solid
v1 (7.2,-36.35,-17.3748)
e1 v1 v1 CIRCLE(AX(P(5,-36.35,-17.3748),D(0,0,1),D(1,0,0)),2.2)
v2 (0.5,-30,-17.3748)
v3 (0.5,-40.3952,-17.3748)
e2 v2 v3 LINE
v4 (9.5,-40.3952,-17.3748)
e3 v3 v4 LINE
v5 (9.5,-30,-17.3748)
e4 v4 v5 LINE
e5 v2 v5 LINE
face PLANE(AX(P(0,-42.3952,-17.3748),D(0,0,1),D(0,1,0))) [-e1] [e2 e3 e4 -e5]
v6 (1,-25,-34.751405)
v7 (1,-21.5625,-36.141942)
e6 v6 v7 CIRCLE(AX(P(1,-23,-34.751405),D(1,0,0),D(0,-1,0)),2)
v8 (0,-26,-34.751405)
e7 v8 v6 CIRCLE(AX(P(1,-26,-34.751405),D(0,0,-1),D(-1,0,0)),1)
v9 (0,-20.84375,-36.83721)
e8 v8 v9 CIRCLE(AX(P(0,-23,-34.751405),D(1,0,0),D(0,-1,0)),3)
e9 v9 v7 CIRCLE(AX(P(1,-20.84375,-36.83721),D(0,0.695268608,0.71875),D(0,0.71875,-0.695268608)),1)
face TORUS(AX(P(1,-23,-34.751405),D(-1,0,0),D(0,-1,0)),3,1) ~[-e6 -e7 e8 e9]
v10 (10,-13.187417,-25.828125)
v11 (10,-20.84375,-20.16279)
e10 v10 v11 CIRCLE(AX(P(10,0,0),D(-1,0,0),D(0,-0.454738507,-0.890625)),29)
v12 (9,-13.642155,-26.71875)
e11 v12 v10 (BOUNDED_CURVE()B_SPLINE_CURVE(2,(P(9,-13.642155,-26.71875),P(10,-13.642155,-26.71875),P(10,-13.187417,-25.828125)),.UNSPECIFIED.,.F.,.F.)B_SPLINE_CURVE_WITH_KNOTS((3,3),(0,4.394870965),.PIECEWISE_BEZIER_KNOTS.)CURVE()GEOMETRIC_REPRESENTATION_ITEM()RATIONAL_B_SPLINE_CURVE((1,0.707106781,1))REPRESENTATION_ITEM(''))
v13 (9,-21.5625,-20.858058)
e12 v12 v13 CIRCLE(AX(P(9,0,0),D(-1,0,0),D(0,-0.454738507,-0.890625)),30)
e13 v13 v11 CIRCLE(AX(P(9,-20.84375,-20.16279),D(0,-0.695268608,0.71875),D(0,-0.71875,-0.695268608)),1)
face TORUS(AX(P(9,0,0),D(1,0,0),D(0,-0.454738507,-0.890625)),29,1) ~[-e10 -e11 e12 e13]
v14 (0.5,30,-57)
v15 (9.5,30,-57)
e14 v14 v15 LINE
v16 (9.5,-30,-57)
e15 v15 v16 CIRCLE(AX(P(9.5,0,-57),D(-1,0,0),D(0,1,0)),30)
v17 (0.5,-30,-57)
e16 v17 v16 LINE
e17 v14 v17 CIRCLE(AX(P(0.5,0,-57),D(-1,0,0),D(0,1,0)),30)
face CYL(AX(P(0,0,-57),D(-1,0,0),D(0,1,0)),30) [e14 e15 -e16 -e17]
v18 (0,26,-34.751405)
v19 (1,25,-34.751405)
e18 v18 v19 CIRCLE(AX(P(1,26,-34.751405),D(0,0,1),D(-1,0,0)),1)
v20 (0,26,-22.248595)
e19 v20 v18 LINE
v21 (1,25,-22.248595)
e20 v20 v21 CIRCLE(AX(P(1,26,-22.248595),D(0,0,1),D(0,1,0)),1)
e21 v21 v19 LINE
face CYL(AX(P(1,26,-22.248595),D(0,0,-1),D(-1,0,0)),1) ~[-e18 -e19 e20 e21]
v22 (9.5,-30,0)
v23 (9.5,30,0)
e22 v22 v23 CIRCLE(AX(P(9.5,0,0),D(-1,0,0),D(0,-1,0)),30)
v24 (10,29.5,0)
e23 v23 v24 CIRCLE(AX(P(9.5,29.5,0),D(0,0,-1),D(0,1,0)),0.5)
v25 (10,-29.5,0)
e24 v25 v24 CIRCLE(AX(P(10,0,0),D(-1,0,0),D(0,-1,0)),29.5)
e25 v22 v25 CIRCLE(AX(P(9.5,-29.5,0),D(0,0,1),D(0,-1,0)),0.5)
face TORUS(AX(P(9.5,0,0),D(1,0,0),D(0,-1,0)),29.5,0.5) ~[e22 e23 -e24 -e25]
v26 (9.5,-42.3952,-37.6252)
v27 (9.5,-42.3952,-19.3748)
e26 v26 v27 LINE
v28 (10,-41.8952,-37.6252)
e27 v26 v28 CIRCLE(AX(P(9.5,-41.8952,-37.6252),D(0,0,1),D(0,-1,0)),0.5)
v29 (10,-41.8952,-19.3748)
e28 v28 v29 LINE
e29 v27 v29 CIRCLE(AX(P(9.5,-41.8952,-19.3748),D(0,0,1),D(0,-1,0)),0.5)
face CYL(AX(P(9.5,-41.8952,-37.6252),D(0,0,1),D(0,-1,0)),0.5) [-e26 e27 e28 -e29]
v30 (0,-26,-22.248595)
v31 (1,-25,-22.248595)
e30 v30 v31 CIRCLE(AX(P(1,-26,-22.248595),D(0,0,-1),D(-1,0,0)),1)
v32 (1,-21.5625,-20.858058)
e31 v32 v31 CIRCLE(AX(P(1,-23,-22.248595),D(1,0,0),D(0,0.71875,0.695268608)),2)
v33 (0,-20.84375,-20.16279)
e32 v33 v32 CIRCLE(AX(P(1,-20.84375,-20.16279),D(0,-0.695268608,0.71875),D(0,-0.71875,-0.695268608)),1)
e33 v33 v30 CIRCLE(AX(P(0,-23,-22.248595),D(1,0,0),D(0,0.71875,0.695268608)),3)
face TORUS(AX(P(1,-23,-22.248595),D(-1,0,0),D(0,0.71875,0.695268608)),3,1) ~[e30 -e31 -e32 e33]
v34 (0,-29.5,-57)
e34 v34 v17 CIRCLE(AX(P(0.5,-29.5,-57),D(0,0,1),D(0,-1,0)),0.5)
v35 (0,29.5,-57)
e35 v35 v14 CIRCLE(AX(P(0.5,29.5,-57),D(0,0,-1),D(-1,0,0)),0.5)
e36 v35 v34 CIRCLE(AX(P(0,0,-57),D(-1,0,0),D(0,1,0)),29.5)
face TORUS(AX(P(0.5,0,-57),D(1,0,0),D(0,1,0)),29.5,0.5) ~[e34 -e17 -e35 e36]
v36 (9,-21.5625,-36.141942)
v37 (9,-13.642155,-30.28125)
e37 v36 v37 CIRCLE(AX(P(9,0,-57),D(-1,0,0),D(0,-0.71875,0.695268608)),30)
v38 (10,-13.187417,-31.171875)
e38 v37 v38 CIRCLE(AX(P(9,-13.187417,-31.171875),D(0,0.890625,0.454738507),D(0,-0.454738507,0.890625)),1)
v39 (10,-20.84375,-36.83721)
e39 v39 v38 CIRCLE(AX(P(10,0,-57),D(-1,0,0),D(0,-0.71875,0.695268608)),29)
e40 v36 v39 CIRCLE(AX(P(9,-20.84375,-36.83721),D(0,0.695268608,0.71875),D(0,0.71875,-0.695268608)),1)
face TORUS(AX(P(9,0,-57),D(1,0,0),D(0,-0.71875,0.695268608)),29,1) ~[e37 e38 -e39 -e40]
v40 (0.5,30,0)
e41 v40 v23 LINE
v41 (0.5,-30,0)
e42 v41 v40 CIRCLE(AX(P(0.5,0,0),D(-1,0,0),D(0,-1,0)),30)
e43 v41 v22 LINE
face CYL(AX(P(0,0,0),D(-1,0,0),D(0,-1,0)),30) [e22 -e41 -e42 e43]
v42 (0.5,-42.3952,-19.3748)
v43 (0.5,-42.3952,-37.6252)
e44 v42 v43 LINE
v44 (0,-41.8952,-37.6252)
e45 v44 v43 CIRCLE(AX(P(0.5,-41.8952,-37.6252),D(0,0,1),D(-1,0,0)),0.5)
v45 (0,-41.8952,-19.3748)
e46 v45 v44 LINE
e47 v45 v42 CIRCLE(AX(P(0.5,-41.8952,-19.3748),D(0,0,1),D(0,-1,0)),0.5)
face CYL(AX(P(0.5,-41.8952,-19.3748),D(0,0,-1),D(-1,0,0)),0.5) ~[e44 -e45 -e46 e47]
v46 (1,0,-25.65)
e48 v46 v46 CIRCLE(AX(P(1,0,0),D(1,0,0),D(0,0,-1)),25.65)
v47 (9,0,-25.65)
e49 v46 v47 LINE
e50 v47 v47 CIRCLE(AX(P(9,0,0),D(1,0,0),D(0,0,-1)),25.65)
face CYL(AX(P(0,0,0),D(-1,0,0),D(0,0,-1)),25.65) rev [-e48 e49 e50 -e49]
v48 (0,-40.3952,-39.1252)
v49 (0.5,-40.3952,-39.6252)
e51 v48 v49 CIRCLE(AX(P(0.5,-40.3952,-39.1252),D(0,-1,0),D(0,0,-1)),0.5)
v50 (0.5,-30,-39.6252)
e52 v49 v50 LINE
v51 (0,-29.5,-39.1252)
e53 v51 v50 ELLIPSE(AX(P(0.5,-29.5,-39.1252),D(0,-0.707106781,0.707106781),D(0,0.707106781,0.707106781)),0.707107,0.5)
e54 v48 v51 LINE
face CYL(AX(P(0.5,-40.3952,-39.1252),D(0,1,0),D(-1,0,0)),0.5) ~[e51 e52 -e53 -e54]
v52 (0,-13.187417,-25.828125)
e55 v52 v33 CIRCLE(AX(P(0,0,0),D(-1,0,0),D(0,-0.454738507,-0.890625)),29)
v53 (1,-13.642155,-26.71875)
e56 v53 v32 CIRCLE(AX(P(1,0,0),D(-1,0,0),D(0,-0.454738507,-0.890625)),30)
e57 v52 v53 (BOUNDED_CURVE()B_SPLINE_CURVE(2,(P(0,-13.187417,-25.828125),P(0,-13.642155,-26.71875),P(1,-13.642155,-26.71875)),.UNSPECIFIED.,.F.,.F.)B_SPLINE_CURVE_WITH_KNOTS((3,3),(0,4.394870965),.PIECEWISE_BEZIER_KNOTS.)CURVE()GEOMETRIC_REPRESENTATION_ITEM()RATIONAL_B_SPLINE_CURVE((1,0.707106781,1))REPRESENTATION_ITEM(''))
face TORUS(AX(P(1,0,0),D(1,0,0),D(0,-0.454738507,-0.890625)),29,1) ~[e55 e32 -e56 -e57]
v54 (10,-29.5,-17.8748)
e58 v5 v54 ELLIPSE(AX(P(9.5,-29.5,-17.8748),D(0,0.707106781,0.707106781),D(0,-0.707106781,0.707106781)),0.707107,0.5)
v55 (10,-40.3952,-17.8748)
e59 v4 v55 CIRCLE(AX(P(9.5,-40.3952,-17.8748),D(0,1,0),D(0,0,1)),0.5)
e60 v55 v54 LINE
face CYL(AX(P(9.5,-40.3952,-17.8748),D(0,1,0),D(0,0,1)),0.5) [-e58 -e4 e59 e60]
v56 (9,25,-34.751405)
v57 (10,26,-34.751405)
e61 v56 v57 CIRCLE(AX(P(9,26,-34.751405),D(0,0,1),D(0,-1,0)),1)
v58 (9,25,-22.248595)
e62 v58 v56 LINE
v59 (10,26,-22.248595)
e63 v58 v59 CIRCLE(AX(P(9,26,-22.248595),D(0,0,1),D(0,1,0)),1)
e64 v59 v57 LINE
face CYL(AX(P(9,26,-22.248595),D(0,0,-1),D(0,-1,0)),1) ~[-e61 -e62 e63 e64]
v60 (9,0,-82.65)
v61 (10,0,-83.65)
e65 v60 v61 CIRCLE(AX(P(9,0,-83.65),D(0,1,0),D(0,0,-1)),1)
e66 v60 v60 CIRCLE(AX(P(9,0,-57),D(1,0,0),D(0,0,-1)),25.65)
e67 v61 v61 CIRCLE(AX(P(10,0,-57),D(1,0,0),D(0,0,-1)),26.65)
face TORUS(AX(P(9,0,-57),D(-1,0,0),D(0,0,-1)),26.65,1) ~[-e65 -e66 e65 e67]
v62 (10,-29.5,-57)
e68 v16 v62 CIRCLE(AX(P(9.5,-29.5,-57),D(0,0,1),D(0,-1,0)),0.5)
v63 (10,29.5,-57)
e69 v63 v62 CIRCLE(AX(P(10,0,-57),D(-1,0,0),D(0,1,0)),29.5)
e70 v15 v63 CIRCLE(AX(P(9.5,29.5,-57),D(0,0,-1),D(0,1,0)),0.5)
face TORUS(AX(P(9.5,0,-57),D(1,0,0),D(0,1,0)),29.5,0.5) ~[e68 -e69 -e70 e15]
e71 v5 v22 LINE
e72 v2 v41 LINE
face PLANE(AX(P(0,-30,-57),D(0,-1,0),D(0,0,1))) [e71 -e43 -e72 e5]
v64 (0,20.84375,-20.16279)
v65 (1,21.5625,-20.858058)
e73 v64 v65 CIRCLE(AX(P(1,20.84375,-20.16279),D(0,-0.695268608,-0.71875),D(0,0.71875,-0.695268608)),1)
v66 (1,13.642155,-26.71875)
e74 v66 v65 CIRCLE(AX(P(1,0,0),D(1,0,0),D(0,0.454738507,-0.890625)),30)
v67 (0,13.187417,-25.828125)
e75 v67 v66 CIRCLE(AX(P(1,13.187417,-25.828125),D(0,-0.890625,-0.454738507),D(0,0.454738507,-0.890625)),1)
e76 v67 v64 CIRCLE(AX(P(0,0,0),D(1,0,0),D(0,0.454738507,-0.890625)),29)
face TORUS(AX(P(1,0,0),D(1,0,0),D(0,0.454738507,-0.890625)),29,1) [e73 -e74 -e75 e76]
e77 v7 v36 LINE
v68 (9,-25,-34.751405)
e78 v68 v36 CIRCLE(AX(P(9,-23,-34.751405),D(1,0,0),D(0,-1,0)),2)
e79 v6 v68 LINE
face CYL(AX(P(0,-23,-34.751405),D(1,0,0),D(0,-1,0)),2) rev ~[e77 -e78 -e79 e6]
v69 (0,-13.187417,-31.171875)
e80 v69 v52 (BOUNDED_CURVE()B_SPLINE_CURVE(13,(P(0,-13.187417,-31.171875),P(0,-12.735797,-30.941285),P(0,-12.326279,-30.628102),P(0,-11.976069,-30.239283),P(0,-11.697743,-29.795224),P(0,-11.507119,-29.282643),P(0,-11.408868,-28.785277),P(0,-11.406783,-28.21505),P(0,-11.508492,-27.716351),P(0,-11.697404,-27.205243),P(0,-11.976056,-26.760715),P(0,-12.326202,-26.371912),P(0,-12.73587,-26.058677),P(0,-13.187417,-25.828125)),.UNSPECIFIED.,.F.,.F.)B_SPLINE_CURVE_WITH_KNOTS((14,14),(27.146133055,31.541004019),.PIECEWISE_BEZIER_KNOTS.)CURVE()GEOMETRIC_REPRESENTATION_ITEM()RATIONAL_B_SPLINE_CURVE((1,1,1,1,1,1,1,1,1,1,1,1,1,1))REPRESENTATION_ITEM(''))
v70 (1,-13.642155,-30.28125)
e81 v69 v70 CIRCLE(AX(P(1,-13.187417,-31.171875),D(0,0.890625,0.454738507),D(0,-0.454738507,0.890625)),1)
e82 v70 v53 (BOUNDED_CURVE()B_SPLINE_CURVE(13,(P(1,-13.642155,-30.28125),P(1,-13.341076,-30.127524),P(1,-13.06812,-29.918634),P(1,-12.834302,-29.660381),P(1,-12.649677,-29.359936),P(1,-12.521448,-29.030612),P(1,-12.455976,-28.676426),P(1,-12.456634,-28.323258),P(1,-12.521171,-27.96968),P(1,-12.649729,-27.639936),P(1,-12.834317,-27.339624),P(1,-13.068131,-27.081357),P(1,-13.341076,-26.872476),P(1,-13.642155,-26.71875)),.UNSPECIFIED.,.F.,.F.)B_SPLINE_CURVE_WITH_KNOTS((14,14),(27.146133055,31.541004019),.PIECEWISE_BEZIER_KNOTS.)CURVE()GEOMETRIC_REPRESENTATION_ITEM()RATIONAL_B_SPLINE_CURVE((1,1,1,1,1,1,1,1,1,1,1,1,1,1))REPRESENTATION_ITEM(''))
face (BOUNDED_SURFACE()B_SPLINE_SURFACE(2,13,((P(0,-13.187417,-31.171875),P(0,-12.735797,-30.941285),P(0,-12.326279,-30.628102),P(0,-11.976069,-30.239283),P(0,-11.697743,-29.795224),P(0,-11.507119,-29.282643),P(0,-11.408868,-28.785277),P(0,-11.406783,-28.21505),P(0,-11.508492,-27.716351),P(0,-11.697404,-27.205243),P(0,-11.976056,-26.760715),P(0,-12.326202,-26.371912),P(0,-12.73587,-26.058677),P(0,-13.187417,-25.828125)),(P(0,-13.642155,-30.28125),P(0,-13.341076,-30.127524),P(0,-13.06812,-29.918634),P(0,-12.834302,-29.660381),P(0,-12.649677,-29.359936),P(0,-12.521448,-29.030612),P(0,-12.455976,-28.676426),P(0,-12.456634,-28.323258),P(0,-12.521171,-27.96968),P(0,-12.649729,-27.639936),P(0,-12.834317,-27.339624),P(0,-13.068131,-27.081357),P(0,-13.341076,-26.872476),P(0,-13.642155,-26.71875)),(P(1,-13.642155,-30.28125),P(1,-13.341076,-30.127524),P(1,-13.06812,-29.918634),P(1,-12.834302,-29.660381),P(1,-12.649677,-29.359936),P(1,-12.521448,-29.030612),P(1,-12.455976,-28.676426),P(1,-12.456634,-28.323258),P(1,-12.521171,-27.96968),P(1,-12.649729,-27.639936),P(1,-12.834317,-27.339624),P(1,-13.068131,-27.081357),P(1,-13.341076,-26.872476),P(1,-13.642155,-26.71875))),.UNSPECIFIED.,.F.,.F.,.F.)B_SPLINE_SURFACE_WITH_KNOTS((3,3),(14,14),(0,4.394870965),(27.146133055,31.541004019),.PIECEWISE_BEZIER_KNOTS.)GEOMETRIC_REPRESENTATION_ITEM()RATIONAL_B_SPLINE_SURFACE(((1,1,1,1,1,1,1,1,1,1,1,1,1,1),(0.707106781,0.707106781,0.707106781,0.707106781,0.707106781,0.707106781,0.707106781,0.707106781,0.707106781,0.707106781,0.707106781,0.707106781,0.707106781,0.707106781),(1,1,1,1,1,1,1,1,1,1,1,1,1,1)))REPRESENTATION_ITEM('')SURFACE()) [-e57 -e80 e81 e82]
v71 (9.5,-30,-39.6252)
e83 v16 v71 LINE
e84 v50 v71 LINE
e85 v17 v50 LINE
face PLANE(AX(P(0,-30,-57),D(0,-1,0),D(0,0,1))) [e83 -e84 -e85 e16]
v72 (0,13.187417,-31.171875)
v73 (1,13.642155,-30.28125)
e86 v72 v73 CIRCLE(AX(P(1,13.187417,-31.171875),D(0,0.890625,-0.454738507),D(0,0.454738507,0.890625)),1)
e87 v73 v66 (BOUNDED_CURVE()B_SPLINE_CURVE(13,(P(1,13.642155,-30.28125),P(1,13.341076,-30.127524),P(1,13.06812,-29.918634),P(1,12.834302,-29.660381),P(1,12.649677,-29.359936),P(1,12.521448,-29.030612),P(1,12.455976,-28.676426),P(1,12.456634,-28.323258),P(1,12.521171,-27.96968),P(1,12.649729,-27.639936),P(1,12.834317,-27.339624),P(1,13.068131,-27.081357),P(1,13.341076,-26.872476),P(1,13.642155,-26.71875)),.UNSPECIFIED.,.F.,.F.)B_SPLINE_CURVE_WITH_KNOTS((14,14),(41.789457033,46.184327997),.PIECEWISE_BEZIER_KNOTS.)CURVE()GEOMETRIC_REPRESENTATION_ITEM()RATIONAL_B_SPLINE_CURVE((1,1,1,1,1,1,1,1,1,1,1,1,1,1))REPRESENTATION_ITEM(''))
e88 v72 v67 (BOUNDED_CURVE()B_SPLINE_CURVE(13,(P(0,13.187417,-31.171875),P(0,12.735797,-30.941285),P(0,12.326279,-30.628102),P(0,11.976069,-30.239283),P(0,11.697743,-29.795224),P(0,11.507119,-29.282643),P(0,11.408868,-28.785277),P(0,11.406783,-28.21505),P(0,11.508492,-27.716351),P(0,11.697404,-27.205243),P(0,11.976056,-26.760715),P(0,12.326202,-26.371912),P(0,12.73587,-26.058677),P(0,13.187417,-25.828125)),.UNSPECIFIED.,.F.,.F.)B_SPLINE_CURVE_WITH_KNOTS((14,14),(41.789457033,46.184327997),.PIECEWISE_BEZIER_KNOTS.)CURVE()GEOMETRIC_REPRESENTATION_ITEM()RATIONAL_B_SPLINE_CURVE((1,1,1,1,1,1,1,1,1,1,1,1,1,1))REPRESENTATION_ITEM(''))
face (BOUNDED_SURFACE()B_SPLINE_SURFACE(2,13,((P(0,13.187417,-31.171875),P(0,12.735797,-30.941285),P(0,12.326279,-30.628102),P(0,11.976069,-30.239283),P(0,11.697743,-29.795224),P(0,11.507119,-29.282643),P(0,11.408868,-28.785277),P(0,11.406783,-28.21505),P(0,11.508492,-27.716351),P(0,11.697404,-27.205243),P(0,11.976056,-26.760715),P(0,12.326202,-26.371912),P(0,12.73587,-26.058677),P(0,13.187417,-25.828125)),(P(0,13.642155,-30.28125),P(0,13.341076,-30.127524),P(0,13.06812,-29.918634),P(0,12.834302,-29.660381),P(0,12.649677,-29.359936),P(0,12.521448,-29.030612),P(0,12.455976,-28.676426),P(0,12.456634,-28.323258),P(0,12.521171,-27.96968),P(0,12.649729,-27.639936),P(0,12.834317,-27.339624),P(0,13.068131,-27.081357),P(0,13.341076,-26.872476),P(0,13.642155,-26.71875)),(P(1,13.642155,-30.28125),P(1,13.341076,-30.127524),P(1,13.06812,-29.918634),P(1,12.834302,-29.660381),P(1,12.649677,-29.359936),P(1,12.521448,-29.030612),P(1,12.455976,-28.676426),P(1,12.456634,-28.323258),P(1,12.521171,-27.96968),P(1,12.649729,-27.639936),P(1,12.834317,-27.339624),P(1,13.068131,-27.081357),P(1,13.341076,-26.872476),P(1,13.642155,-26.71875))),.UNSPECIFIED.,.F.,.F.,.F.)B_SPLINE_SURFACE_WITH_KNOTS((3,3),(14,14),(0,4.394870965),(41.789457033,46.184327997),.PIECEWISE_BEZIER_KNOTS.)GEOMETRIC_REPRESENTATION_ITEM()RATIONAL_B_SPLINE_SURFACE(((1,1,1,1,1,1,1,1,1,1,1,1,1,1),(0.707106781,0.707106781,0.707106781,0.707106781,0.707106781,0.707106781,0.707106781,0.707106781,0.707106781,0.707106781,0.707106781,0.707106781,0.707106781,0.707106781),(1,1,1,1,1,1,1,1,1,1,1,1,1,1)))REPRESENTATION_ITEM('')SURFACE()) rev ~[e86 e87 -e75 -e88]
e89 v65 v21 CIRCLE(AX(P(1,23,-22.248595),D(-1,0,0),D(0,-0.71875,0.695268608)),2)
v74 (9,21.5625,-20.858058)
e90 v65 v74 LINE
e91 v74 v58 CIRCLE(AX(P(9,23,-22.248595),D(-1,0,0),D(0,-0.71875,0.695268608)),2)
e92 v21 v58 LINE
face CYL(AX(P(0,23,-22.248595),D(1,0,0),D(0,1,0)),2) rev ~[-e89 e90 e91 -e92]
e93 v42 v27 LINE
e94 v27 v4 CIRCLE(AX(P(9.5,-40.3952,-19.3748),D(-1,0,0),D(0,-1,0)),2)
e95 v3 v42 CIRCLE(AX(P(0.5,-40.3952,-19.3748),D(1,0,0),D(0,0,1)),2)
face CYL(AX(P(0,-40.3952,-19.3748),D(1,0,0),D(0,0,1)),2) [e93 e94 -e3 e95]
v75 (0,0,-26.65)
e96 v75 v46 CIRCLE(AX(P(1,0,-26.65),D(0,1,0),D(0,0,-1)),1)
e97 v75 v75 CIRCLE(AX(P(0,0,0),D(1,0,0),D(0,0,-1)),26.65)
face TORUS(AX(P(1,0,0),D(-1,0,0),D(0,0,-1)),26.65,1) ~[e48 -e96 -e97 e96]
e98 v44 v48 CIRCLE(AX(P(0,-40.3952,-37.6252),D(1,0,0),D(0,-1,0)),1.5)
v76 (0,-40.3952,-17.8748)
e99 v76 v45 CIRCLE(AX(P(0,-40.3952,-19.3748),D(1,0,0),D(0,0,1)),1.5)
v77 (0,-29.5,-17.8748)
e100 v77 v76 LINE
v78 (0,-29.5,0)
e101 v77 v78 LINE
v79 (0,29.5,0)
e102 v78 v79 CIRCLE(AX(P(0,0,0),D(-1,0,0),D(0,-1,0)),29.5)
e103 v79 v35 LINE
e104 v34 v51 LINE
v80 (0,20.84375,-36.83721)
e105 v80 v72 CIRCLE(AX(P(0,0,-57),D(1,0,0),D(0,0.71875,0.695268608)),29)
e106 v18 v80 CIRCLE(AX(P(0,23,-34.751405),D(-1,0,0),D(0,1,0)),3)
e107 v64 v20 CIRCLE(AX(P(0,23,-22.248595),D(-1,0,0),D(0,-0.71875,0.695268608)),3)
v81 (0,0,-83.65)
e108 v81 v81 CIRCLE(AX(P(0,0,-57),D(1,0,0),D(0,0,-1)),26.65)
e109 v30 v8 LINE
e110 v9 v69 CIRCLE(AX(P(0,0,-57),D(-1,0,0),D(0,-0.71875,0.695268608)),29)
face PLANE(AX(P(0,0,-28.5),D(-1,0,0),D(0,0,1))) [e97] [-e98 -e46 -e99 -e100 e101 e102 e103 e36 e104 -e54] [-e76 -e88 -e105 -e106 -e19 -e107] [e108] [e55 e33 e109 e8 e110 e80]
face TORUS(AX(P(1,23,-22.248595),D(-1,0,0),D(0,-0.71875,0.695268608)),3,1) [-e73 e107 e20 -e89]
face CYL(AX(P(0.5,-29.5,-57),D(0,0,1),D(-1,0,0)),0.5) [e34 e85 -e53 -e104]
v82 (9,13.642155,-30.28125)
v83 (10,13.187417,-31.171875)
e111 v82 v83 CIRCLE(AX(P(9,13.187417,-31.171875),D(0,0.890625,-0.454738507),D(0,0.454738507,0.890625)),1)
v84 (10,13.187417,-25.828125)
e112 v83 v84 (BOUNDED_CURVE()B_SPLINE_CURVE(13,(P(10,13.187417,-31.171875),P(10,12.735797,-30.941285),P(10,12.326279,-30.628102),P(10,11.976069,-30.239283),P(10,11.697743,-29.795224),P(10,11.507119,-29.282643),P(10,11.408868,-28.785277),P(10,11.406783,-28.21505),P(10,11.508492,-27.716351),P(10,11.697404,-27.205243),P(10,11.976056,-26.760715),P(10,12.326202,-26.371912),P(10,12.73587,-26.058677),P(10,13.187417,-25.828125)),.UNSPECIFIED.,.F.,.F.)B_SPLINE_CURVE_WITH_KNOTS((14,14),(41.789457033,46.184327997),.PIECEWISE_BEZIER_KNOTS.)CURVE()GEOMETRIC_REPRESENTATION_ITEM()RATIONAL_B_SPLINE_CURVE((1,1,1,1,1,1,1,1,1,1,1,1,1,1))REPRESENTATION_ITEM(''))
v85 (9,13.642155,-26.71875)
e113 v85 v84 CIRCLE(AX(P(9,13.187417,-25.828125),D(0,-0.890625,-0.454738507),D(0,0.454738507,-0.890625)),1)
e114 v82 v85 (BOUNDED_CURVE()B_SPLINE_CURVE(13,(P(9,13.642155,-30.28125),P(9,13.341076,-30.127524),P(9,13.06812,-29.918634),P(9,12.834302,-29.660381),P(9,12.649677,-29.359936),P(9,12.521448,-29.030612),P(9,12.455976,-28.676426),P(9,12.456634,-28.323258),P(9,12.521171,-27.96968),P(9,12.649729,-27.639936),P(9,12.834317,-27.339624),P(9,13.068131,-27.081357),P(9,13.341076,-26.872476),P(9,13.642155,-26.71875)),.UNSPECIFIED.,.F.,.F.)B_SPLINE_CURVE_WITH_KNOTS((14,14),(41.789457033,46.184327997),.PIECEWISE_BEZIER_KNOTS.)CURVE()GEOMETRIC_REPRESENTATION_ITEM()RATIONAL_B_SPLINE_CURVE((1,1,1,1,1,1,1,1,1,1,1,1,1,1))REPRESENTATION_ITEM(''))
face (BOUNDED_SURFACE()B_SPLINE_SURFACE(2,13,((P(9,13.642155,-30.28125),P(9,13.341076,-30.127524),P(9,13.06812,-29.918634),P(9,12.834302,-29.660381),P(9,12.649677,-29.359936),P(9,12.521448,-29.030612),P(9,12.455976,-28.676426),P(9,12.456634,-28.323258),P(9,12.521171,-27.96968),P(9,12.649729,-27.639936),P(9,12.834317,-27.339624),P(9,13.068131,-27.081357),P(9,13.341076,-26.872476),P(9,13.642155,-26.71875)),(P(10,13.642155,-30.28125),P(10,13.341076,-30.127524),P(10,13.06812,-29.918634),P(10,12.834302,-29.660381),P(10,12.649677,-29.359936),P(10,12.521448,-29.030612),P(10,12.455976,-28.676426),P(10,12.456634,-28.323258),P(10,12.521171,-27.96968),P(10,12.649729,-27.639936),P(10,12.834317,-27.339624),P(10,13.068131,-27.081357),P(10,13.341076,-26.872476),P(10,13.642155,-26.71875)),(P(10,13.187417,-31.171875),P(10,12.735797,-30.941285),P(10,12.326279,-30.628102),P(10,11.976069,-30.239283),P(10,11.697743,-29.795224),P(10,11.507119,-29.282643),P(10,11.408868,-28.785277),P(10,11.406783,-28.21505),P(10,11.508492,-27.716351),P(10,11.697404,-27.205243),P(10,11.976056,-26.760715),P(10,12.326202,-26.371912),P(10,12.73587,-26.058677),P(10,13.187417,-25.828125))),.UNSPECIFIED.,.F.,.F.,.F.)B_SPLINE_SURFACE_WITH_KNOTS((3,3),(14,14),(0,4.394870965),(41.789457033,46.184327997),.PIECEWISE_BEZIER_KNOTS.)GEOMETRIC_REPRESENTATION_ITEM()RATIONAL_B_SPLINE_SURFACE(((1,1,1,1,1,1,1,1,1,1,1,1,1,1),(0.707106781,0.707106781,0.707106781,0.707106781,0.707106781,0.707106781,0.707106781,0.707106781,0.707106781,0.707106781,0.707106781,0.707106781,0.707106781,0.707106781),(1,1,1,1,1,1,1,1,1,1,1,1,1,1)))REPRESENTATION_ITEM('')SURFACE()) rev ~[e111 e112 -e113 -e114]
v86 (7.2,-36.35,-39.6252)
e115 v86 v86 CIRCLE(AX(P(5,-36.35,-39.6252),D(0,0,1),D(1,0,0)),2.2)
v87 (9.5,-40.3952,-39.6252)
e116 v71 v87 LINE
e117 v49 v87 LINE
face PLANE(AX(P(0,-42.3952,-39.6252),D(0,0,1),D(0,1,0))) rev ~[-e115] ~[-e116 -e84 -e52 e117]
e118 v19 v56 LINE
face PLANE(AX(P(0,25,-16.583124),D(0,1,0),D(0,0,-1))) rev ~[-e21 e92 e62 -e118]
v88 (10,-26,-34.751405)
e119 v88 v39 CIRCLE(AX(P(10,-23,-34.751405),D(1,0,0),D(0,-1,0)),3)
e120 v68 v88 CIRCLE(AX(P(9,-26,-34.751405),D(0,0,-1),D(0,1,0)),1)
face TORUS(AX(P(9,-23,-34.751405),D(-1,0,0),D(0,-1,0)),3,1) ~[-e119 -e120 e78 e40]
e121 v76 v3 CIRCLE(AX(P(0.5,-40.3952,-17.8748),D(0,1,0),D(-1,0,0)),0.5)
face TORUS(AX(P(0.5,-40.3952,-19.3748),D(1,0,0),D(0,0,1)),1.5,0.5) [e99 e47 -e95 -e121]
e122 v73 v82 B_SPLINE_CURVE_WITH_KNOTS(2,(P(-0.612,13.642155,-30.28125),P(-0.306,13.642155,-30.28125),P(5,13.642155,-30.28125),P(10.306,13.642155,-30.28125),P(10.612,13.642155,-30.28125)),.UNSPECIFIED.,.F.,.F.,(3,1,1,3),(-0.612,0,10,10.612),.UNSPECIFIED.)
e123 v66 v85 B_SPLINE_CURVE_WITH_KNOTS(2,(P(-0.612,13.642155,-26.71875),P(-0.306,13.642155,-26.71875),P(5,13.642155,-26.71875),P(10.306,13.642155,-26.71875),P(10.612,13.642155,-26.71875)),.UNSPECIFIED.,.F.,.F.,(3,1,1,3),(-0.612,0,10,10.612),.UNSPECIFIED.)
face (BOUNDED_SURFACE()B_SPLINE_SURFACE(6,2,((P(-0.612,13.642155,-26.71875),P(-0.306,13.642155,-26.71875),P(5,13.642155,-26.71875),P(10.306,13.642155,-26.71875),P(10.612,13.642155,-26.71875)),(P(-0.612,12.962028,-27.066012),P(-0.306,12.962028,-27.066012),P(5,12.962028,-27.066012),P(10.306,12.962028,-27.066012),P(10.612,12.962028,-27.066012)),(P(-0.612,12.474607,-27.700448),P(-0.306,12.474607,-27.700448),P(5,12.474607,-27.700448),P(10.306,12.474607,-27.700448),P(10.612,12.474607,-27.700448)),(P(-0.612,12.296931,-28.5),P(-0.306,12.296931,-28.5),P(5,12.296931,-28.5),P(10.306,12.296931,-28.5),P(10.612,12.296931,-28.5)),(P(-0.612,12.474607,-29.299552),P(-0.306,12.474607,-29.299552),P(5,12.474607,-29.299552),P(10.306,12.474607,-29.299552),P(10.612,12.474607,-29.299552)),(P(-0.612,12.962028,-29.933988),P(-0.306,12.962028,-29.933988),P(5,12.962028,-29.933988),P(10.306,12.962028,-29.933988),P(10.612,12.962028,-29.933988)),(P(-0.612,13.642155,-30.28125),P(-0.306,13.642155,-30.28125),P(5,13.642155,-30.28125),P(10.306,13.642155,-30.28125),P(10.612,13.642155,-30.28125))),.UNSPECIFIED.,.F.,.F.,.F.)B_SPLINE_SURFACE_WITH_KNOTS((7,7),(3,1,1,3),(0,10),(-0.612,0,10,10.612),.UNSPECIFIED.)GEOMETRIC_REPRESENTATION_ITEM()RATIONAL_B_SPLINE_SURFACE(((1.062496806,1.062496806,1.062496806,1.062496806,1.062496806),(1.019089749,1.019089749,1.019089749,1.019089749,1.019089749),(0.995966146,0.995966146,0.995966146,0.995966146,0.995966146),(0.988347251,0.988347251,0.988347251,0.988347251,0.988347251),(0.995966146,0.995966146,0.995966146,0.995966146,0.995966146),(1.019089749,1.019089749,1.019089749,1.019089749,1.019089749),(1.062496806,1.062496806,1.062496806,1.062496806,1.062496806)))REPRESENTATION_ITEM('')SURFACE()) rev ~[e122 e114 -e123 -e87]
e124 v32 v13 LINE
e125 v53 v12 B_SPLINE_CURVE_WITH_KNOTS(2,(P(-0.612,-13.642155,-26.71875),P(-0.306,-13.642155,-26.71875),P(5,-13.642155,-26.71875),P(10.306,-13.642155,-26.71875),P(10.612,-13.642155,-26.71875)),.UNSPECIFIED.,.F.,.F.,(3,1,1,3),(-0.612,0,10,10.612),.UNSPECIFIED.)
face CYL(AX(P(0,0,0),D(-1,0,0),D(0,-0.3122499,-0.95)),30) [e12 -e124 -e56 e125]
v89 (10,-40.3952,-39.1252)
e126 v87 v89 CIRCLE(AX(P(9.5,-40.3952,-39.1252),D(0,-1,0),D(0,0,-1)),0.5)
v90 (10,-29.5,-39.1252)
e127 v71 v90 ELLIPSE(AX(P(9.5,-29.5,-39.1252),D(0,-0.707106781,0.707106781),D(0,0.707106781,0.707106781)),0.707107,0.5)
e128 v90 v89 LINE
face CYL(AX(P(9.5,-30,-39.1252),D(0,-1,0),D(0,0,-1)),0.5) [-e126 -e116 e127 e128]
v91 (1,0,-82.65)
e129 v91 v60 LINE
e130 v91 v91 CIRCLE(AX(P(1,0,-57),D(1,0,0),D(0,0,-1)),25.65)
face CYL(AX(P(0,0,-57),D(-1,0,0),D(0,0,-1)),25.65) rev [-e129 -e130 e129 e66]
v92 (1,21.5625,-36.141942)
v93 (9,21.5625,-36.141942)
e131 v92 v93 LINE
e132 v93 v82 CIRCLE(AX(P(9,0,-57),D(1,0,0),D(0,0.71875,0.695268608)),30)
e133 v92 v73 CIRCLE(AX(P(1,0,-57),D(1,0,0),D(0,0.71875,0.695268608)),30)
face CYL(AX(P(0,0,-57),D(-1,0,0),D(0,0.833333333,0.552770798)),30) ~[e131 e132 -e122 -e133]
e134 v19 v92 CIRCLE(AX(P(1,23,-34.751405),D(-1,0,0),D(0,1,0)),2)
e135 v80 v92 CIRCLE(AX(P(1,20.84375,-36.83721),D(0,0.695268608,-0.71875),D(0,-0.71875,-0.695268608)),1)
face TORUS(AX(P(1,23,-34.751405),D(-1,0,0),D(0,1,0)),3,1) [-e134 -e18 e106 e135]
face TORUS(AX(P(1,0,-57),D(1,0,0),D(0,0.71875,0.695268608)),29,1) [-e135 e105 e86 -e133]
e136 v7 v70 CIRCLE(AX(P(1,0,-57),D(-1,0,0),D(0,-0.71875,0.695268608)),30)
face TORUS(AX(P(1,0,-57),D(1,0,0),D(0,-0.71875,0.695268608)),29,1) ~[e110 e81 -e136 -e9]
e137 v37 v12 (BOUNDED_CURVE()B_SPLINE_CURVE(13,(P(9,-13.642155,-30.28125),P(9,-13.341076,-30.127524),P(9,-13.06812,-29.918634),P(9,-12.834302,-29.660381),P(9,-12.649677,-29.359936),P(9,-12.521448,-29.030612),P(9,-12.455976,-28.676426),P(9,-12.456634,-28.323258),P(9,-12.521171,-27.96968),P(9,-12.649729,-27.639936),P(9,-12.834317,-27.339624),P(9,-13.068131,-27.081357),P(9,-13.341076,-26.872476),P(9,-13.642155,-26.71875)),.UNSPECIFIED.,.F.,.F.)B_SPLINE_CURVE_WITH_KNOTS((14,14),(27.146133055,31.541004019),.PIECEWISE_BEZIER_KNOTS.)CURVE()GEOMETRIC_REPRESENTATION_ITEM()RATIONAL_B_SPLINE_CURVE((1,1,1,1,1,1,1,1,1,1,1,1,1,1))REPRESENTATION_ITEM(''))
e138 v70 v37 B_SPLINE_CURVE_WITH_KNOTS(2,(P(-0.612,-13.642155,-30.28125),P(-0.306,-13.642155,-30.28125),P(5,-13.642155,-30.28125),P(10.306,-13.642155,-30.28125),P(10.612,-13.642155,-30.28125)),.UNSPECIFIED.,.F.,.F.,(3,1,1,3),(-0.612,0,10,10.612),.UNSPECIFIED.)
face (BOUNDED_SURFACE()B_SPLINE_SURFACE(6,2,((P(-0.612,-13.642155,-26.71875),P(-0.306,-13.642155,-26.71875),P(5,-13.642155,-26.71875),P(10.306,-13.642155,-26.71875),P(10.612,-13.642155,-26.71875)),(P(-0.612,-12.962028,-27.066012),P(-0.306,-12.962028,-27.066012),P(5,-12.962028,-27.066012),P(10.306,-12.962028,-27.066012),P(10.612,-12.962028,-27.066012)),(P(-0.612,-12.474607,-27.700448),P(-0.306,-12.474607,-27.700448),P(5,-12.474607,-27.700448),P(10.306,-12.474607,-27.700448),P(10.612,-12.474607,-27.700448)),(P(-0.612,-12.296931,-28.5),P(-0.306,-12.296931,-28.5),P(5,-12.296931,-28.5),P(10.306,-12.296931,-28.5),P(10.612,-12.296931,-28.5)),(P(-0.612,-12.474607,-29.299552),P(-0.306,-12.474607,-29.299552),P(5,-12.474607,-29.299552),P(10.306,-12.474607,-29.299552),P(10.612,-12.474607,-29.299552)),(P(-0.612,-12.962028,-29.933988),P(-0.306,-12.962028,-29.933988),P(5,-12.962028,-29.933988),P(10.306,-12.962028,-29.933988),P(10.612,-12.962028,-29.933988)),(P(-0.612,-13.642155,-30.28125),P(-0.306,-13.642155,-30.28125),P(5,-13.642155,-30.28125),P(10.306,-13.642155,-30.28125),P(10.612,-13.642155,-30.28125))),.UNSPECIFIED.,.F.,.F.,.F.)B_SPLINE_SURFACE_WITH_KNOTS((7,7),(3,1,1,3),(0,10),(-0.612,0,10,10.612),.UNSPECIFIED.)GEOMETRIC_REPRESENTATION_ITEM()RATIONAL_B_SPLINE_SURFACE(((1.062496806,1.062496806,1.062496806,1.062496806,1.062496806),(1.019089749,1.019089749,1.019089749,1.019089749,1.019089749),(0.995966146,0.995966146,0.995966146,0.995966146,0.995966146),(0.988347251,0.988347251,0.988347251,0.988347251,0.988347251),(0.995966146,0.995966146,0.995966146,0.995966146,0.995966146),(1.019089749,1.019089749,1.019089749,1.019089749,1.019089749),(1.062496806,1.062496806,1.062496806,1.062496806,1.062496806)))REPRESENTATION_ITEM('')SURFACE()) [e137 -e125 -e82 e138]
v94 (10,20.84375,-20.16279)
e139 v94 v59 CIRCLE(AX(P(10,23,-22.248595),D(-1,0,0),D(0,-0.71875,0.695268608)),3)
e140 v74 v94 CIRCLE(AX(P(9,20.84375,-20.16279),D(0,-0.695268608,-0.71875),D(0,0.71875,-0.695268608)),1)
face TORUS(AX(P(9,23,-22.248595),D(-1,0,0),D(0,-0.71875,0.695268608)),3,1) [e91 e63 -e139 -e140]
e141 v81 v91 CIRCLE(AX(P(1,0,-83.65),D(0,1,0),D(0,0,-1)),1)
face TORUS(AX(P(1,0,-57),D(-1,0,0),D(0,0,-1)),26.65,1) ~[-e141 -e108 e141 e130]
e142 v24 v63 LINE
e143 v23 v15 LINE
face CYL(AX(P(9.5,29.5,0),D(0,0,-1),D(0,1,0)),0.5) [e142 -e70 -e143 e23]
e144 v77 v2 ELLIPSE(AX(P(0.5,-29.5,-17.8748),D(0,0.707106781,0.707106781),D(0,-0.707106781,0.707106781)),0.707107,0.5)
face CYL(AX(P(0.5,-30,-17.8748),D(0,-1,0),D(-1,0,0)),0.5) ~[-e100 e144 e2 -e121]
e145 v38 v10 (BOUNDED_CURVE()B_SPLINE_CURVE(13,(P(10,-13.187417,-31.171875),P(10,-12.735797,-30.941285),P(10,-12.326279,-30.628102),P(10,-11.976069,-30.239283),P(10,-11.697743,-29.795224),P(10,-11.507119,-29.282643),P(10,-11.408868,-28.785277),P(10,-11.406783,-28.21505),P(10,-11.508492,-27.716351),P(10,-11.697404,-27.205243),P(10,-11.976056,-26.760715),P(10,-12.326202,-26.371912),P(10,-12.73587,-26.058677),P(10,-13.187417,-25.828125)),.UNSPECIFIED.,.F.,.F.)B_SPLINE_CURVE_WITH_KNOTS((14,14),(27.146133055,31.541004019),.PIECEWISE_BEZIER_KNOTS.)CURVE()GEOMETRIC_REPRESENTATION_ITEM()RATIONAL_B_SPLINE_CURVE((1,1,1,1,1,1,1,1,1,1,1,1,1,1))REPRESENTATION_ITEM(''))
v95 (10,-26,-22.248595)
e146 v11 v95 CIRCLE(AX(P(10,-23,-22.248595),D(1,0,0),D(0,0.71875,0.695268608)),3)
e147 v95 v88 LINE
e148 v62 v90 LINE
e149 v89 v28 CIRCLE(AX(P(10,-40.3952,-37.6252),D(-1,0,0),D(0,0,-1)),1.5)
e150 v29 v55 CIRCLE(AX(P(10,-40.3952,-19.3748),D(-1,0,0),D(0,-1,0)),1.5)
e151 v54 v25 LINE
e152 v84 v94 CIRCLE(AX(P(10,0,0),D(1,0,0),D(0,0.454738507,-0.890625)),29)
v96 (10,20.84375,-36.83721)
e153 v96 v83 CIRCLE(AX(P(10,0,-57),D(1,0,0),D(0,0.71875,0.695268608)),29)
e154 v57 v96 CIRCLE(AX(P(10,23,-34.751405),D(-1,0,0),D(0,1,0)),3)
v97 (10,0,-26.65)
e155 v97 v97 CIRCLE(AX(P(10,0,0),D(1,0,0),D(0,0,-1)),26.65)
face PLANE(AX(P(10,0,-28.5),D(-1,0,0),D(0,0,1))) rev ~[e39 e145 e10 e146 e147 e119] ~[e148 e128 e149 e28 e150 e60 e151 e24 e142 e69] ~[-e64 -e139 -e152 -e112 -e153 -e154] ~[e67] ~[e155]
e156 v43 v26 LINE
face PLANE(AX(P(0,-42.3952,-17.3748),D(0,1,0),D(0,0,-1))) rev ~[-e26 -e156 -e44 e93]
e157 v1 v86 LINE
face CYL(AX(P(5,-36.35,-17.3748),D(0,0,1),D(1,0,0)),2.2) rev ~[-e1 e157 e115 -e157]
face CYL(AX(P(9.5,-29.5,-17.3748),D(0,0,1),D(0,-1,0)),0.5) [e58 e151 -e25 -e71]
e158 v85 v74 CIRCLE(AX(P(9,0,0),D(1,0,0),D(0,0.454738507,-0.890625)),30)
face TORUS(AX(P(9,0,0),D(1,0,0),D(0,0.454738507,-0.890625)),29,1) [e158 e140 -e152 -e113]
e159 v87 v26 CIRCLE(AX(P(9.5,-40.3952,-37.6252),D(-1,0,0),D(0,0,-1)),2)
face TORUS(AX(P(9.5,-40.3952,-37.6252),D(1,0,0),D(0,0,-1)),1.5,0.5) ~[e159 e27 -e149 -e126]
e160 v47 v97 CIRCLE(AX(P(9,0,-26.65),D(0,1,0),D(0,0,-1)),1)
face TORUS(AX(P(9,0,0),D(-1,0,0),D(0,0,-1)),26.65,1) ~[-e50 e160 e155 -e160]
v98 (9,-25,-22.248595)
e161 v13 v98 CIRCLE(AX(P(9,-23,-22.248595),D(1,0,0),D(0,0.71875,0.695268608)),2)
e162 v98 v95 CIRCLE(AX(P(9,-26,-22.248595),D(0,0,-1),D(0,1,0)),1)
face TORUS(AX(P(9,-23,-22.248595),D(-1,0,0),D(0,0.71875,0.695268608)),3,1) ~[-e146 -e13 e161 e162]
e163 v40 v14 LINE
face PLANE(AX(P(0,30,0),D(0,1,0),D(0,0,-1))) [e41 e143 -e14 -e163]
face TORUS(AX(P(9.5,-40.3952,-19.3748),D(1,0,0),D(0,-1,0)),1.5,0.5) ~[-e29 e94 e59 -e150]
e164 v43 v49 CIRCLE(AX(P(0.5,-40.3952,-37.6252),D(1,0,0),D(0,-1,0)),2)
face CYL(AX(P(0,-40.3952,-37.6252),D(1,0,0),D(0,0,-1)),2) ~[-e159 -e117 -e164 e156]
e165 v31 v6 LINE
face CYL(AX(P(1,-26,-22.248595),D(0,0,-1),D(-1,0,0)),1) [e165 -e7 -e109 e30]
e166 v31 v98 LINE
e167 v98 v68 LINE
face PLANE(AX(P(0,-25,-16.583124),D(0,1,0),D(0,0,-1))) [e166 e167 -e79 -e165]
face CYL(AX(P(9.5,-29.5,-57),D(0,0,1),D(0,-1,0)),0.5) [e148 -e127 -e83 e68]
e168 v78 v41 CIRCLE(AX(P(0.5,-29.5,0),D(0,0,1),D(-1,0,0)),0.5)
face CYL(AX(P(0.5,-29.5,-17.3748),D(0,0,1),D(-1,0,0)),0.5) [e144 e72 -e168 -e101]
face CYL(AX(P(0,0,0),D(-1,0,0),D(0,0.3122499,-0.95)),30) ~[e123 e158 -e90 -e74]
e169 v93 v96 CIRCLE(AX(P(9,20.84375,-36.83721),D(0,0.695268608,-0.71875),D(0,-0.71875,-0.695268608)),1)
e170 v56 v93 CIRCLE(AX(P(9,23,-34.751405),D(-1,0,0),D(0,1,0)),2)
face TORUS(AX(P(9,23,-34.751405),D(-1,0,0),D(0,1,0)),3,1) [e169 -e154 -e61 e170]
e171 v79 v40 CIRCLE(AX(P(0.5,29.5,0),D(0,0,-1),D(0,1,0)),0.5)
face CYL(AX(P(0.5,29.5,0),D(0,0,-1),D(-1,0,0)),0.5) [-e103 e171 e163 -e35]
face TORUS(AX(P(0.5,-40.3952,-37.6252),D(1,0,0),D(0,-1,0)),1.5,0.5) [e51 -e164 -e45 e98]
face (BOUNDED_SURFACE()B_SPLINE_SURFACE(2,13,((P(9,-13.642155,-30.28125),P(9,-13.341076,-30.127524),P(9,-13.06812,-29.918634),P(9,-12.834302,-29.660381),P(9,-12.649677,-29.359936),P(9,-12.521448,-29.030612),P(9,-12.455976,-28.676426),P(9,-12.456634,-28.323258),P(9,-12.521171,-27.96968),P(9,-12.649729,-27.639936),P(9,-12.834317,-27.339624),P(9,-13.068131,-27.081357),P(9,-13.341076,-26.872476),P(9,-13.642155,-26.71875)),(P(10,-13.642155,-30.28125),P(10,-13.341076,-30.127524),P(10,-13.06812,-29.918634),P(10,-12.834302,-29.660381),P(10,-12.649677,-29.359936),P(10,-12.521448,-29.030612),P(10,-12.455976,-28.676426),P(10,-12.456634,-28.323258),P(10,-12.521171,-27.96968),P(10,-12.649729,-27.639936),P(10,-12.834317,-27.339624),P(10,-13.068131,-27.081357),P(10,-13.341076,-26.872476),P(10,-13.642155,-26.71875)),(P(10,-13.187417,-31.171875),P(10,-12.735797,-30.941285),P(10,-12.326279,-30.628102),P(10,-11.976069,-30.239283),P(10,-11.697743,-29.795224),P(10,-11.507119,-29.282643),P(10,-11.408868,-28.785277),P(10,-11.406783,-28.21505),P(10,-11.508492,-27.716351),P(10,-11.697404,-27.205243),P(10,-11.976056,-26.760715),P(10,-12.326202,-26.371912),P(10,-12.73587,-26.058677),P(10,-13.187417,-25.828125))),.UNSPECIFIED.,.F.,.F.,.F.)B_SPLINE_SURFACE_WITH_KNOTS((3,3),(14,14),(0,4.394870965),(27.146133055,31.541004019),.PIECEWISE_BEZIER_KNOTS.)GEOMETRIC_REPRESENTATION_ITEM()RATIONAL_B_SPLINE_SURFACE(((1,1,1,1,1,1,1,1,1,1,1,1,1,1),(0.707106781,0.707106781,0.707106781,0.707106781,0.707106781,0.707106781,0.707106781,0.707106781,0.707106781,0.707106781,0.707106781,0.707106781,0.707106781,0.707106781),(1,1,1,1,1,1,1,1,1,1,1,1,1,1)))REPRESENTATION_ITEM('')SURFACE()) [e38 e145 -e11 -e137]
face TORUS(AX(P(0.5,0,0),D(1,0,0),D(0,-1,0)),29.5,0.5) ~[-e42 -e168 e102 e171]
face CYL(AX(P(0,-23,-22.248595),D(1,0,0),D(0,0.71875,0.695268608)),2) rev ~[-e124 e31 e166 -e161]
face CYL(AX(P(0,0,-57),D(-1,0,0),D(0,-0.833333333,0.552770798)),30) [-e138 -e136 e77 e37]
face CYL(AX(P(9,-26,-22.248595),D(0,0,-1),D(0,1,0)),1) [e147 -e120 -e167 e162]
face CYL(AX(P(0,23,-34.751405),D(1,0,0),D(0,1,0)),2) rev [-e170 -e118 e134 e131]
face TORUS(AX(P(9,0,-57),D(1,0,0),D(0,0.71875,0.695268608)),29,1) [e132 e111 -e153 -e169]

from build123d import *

# Parameters (mm, degrees)
SKETCH1_R           = 25.65
SKETCH1_W           = 22.2504
SKETCH1_H           = 12.3952
BOSS_EXTRUDE1_DEPTH = 10
FILLET1_R           = 2
FILLET4_R           = 2
FILLET3_R           = 1
FILLET2_R           = 0.5
CUT_EXTRUDE1_REACH  = 84.128
SKETCH2_R           = 2.2


with BuildPart() as part:
    # Sketch1 → Boss-Extrude1 (new body)
    # profile 1 of 2: a face of its own
    with BuildSketch(Plane(origin=(0, 0, 0), x_dir=(0, 0, -1), z_dir=(1, 0, 0))):
        with BuildLine():
            Line((0, 30), (57, 30))
            ThreePointArc((57, 30), (87, 0), (57, -30))
            Line((57, -30), (0, -30))
            ThreePointArc((0, -30), (-30, 0), (0, 30))
        make_face()
        Circle(SKETCH1_R, mode=Mode.SUBTRACT)
        with Locations((57, 0)):
            Circle(SKETCH1_R, mode=Mode.SUBTRACT)
        with BuildLine():
            Line((16.583123952, 25), (40.416876048, 25))
            ThreePointArc((40.416876048, 25), (33.141756061, 18.187473606), (28.5, 9.367496998))
            ThreePointArc((28.5, 9.367496998), (23.858243939, 18.187473606), (16.583123952, 25))
        make_face(mode=Mode.SUBTRACT)
        with BuildLine():
            Line((16.583123952, -25), (40.416876048, -25))
            ThreePointArc((40.416876048, -25), (33.141756061, -18.187473606), (28.5, -9.367496998))
            ThreePointArc((28.5, -9.367496998), (23.858243939, -18.187473606), (16.583123952, -25))
        make_face(mode=Mode.SUBTRACT)
    # profile 2 of 2: a face of its own
    with BuildSketch(Plane(origin=(0, 0, 0), x_dir=(0, 0, -1), z_dir=(1, 0, 0))):
        with Locations((28.5, -36.1976)):
            Rectangle(SKETCH1_W, SKETCH1_H)
    extrude(amount=BOSS_EXTRUDE1_DEPTH)

    # Fillet1
    fillet1_edges = [part.edges().sort_by_distance(p)[0] for p in [
        (5, -42.3952, -39.6252),
        (5, -42.3952, -17.3748),
    ]]
    fillet(fillet1_edges, radius=FILLET1_R)

    # Fillet4
    fillet4_edges = [part.edges().sort_by_distance(p)[0] for p in [
        (5, -25, -16.583123952),
        (5, -25, -40.416876048),
        (5, -9.367496998, -28.5),
        (5, 25, -40.416876048),
        (5, 25, -16.583123952),
        (5, 9.367496998, -28.5),
    ]]
    fillet(fillet4_edges, radius=FILLET4_R)

    # Fillet3
    fillet3_edges = [part.edges().sort_by_distance(p)[0] for p in [
        (0, 0, 25.65),
        (0, 0, -31.35),
        (10, 0, 25.65),
        (0, -25, -28.5),
        (10, -25, -28.5),
        (0, -17.844575194, -32.884213964),
        (10, -17.844575194, -32.884213964),
        (0, -17.844575194, -24.115786036),
        (10, -17.844575194, -24.115786036),
        (0, 17.844575194, -24.115786036),
        (10, 17.844575194, -24.115786036),
        (0, 17.844575194, -32.884213964),
        (10, 17.844575194, -32.884213964),
        (0, 25, -28.5),
        (10, 25, -28.5),
        (0, -23.75, -36.60545416),
        (10, -23.75, -36.60545416),
        (0, -12.551632211, -28.5),
        (10, -12.551632211, -28.5),
        (0, -23.75, -20.39454584),
        (10, -23.75, -20.39454584),
        (0, 12.551632211, -28.5),
        (10, 12.551632211, -28.5),
        (0, 23.75, -36.60545416),
        (10, 23.75, -36.60545416),
        (0, 23.75, -20.39454584),
        (10, 23.75, -20.39454584),
        (10, 0, -31.35),
    ]]
    fillet(fillet3_edges, radius=FILLET3_R)

    # Fillet2
    fillet2_edges = [part.edges().sort_by_distance(p)[0] for p in [
        (0, 0, 30),
        (0, 30, -28.5),
        (0, 0, -87),
        (0, -30, -48.3126),
        (0, -35.1976, -39.6252),
        (0, -35.1976, -17.3748),
        (0, -30, -8.6874),
        (10, -30, -8.6874),
        (10, -35.1976, -17.3748),
        (10, -35.1976, -39.6252),
        (0, -42.3952, -28.5),
        (0, -41.809413562, -17.960586438),
        (0, -41.809413562, -39.039413562),
        (10, -42.3952, -28.5),
        (10, -30, -48.3126),
        (10, -41.809413562, -17.960586438),
        (10, -41.809413562, -39.039413562),
        (10, 0, -87),
        (10, 30, -28.5),
        (10, 0, 30),
    ]]
    fillet(fillet2_edges, radius=FILLET2_R)

    # Sketch2 → Cut-Extrude1 (cut, up to next)
    with BuildSketch(Plane.XY.offset(-17.3748), mode=Mode.PRIVATE) as cut_extrude1_sk1:
        with Locations((5, -36.35)):
            Circle(SKETCH2_R)
    cut_extrude1_tool1 = extrude(cut_extrude1_sk1.sketch, amount=-CUT_EXTRUDE1_REACH, mode=Mode.PRIVATE) & part.part
    add(cut_extrude1_tool1.solids().sort_by_distance((5, -36.35, -17.3748))[0], mode=Mode.SUBTRACT)


solid = part.part
